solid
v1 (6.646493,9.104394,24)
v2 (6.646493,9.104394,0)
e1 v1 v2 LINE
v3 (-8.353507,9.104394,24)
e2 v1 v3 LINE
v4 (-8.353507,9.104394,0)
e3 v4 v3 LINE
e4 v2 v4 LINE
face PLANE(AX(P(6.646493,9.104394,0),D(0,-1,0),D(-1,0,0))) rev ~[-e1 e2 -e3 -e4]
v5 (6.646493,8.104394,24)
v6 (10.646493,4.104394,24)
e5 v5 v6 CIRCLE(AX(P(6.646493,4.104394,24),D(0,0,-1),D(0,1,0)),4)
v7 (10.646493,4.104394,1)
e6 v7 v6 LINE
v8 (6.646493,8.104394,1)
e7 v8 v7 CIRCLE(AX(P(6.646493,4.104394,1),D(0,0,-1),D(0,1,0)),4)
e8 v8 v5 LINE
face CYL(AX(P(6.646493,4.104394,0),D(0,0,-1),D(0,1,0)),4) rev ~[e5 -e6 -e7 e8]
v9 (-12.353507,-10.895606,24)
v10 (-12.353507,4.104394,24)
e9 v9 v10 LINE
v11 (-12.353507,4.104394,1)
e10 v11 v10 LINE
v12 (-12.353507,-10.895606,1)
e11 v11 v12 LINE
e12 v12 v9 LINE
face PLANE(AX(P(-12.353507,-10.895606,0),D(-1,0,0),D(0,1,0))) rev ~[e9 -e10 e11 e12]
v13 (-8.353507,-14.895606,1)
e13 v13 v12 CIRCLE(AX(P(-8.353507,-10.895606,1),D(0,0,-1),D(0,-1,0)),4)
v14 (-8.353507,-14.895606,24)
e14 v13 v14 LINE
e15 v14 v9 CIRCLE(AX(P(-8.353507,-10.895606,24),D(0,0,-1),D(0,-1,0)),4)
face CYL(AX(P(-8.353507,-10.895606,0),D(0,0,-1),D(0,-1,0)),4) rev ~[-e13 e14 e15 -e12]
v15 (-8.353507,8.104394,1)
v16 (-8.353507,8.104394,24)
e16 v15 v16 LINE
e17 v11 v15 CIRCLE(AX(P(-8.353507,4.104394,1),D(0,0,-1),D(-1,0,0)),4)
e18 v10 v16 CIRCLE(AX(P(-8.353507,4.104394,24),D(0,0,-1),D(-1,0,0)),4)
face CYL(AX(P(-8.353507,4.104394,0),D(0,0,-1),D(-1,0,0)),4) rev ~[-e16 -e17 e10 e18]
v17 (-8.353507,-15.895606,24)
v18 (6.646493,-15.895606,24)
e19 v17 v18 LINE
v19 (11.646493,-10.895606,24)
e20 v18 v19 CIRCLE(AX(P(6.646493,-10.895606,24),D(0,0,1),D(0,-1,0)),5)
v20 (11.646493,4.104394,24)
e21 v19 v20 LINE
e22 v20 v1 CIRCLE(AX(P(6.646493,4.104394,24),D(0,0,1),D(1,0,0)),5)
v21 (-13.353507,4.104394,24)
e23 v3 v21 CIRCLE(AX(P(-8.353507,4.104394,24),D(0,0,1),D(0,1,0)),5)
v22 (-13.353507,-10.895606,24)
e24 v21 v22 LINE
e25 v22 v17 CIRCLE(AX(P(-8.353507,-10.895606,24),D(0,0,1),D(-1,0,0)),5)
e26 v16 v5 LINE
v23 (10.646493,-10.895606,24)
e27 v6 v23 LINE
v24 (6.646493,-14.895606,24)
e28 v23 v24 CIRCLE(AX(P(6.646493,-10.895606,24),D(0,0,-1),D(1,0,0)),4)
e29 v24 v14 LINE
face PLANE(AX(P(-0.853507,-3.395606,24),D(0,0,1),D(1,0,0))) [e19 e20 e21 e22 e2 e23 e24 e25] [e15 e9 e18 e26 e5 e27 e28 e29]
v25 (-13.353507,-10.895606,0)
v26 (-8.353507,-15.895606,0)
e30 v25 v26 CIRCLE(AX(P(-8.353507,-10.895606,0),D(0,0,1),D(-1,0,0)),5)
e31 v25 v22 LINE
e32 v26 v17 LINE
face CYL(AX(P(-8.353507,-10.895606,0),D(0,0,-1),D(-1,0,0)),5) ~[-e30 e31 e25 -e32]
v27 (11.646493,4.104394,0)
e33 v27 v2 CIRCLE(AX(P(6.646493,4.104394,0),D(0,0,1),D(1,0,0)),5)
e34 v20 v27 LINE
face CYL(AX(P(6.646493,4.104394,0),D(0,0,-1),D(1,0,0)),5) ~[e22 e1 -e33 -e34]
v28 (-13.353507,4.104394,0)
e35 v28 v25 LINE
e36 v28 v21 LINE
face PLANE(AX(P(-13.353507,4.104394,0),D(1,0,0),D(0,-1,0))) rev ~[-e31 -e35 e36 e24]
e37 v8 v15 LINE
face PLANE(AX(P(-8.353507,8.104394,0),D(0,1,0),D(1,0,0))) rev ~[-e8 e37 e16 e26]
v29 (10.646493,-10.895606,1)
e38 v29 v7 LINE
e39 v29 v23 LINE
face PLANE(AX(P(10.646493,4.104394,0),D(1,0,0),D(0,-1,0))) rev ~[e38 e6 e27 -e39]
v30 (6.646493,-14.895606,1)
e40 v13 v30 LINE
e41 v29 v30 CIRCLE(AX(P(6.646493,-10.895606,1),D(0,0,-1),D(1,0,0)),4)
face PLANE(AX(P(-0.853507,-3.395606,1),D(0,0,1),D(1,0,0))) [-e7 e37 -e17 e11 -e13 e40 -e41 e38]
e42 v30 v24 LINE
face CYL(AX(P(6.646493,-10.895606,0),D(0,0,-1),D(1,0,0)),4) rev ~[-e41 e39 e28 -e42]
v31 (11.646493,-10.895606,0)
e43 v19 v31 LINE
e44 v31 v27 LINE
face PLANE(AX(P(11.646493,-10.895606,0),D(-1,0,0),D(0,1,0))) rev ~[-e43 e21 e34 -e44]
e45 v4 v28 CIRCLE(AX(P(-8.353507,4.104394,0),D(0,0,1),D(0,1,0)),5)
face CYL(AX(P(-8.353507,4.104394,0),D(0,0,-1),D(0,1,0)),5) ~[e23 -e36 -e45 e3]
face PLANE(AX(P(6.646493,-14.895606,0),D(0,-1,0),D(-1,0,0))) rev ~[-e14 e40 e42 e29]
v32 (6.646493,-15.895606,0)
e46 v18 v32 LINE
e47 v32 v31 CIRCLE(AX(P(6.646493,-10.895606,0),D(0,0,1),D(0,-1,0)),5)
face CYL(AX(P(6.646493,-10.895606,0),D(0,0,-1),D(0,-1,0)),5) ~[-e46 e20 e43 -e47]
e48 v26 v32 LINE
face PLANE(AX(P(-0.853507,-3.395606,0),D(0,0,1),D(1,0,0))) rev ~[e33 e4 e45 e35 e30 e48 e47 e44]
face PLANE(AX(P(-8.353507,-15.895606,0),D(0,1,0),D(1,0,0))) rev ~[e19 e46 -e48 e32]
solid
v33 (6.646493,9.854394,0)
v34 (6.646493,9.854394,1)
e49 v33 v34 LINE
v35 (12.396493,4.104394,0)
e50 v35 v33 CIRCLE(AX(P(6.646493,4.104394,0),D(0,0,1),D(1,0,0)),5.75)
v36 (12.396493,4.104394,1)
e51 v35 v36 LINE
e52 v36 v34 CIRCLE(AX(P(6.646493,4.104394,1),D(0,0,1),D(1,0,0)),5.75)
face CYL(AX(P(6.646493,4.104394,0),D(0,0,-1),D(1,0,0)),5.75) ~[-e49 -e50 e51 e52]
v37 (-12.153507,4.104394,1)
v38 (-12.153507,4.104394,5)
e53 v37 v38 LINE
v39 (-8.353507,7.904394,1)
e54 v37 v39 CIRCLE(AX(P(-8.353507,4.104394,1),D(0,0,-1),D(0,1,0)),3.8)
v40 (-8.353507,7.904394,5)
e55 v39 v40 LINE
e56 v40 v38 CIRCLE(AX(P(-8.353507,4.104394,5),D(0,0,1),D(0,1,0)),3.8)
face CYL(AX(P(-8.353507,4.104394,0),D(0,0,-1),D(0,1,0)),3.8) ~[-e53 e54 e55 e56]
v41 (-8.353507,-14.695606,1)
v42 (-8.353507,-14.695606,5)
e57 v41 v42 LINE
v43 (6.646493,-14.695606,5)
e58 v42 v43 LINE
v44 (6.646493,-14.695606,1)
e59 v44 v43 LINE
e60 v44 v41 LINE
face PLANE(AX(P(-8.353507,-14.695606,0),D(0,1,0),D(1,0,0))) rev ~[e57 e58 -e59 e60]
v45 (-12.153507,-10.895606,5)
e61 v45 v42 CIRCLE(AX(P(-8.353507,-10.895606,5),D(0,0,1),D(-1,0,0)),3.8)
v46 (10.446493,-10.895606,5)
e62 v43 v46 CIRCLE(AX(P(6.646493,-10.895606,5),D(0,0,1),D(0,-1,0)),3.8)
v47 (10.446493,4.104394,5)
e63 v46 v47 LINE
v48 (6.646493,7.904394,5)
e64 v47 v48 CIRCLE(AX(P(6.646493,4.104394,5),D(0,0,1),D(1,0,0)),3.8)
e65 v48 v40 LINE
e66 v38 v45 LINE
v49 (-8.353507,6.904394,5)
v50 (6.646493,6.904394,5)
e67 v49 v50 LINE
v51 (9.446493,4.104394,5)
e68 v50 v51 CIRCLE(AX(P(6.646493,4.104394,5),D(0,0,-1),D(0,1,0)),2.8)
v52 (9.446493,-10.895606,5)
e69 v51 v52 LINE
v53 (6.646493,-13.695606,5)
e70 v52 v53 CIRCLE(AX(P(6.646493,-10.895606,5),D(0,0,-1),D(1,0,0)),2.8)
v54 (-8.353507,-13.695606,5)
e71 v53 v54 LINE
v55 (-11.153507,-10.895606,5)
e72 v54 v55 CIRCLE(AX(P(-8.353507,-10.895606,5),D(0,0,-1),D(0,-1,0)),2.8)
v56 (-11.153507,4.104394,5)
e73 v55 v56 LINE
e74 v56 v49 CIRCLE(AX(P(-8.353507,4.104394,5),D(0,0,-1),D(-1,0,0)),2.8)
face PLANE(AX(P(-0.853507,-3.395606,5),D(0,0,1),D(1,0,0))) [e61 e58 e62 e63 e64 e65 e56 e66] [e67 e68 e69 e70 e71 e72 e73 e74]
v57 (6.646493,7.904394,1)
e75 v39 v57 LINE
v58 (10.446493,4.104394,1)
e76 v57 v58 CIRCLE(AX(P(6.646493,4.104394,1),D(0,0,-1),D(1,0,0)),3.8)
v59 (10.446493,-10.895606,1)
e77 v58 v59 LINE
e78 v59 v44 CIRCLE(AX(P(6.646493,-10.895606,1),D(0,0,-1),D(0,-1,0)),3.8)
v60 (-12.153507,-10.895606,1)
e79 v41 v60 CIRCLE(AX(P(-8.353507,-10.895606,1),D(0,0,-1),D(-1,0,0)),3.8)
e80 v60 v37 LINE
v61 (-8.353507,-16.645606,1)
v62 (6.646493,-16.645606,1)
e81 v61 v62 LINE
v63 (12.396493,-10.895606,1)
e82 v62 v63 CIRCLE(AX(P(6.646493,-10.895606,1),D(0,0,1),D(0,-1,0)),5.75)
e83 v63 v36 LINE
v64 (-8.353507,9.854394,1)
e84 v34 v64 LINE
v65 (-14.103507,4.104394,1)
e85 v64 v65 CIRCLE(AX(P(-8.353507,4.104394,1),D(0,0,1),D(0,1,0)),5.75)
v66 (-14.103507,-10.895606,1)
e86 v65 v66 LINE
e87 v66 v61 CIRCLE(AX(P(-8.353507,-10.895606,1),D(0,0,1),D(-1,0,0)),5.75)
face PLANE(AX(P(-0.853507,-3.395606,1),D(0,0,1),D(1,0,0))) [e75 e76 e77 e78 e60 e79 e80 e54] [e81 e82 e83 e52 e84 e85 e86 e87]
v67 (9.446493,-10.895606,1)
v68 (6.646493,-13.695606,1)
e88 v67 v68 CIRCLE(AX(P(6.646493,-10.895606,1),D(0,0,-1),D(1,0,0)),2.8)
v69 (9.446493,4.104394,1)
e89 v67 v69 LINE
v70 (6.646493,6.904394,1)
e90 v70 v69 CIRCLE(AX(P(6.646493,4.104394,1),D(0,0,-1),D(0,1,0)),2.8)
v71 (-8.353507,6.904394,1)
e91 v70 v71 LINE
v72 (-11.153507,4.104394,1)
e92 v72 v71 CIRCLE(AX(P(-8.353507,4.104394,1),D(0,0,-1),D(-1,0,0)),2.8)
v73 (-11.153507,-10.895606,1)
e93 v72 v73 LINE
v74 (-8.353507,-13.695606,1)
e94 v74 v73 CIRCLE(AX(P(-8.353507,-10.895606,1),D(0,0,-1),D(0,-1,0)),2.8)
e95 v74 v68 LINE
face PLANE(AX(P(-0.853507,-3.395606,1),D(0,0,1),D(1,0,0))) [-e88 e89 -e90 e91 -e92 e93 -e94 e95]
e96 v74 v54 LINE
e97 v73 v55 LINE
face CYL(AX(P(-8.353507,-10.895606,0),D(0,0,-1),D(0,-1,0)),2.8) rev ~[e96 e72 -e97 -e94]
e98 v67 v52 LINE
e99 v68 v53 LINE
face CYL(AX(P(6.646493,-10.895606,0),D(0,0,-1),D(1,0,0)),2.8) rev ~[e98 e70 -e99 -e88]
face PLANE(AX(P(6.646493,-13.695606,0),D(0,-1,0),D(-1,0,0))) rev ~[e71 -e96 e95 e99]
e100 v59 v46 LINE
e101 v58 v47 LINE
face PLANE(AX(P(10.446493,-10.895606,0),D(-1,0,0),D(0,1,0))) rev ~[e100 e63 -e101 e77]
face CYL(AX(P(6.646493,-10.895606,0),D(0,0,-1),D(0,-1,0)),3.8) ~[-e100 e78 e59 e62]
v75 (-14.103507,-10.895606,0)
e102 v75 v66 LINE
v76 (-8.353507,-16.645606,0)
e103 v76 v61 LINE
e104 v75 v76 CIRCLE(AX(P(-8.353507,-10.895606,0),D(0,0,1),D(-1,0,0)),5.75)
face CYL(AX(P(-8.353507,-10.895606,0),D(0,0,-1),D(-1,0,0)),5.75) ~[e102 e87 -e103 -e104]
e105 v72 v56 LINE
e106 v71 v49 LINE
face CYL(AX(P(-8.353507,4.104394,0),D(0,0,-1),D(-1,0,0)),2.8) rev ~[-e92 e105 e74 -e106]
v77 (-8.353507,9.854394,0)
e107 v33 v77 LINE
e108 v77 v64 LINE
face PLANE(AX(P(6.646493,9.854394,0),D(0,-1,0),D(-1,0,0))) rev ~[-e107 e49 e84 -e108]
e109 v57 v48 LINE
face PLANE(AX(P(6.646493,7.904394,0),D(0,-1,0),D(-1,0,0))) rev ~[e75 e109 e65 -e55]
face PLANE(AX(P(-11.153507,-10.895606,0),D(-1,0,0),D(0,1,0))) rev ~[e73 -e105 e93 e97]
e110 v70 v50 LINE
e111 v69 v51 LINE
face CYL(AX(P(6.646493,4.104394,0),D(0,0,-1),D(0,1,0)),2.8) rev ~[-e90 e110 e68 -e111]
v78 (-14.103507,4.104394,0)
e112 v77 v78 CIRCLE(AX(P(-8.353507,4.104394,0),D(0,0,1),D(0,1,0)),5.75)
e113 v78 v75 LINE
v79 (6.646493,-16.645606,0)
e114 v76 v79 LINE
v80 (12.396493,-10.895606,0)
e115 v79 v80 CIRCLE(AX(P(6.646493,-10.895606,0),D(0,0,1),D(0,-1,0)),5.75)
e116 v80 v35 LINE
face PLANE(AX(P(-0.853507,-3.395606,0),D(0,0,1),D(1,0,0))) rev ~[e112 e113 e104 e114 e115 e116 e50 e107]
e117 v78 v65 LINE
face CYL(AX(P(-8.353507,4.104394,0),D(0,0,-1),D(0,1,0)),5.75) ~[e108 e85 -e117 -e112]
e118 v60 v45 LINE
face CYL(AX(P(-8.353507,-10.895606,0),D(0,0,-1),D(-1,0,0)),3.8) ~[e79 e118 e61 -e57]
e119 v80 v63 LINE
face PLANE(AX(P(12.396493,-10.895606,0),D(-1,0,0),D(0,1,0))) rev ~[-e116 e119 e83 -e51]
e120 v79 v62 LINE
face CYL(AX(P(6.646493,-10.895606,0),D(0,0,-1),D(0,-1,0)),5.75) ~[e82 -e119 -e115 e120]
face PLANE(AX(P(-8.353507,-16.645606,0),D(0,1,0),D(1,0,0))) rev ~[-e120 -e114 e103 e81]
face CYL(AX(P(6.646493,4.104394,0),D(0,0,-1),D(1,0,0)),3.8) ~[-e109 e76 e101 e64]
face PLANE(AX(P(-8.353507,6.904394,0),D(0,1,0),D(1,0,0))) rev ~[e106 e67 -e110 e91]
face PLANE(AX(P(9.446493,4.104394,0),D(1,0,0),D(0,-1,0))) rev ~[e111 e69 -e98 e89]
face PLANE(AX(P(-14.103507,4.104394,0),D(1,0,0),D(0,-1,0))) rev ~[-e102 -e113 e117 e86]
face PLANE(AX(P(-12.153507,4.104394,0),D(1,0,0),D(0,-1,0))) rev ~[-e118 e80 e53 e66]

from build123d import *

# Parameters (mm, degrees)
F4_DEPTH = 1
F5_DEPTH = 24
F6_DEPTH = 1
F7_DEPTH = 5


with BuildPart() as f4:
    # F3 (on Top) → F4 (new body)
    with BuildSketch(Plane.XY):
        with BuildLine():
            Line((6.6464926861, 9.10439419), (-8.3535073139, 9.10439419))
            ThreePointArc((-8.3535073139, 9.10439419), (-11.8890412198, 7.6399280959), (-13.3535073139, 4.10439419))
            Line((-13.3535073139, 4.10439419), (-13.3535073139, -10.89560581))
            ThreePointArc((-13.3535073139, -10.89560581), (-11.8890412198, -14.4311397159), (-8.3535073139, -15.89560581))
            Line((-8.3535073139, -15.89560581), (6.6464926861, -15.89560581))
            ThreePointArc((6.6464926861, -15.89560581), (10.1820265921, -14.4311397159), (11.6464926861, -10.89560581))
            Line((11.6464926861, -10.89560581), (11.6464926861, 4.10439419))
            ThreePointArc((11.6464926861, 4.10439419), (10.1820265921, 7.6399280959), (6.6464926861, 9.10439419))
        make_face()
        with BuildLine():
            ThreePointArc((-12.3535073139, 4.10439419), (-11.1819344386, 6.9328213148), (-8.3535073139, 8.10439419))
            Line((-8.3535073139, 8.10439419), (6.6464926861, 8.10439419))
            ThreePointArc((6.6464926861, 8.10439419), (9.4749198109, 6.9328213148), (10.6464926861, 4.10439419))
            Line((10.6464926861, 4.10439419), (10.6464926861, -10.89560581))
            ThreePointArc((10.6464926861, -10.89560581), (9.4749198109, -13.7240329347), (6.6464926861, -14.89560581))
            Line((6.6464926861, -14.89560581), (-8.3535073139, -14.89560581))
            ThreePointArc((-8.3535073139, -14.89560581), (-11.1819344386, -13.7240329347), (-12.3535073139, -10.89560581))
            Line((-12.3535073139, -10.89560581), (-12.3535073139, 4.10439419))
        make_face(mode=Mode.SUBTRACT)
        with BuildLine():
            Line((6.6464926861, 8.10439419), (-8.3535073139, 8.10439419))
            ThreePointArc((-8.3535073139, 8.10439419), (-11.1819344386, 6.9328213148), (-12.3535073139, 4.10439419))
            Line((-12.3535073139, 4.10439419), (-12.3535073139, -10.89560581))
            ThreePointArc((-12.3535073139, -10.89560581), (-11.1819344386, -13.7240329347), (-8.3535073139, -14.89560581))
            Line((-8.3535073139, -14.89560581), (6.6464926861, -14.89560581))
            ThreePointArc((6.6464926861, -14.89560581), (9.4749198109, -13.7240329347), (10.6464926861, -10.89560581))
            Line((10.6464926861, -10.89560581), (10.6464926861, 4.10439419))
            ThreePointArc((10.6464926861, 4.10439419), (9.4749198109, 6.9328213148), (6.6464926861, 8.10439419))
        make_face()
        with BuildLine():
            ThreePointArc((-12.1535073139, 4.10439419), (-11.0405130824, 6.7913999585), (-8.3535073139, 7.90439419))
            Line((-8.3535073139, 7.90439419), (6.6464926861, 7.90439419))
            ThreePointArc((6.6464926861, 7.90439419), (9.3334984546, 6.7913999585), (10.4464926861, 4.10439419))
            Line((10.4464926861, 4.10439419), (10.4464926861, -10.89560581))
            ThreePointArc((10.4464926861, -10.89560581), (9.3334984546, -13.5826115785), (6.6464926861, -14.69560581))
            Line((6.6464926861, -14.69560581), (-8.3535073139, -14.69560581))
            ThreePointArc((-8.3535073139, -14.69560581), (-11.0405130824, -13.5826115785), (-12.1535073139, -10.89560581))
            Line((-12.1535073139, -10.89560581), (-12.1535073139, 4.10439419))
        make_face(mode=Mode.SUBTRACT)
        with BuildLine():
            Line((6.6464926861, 7.90439419), (-8.3535073139, 7.90439419))
            ThreePointArc((-8.3535073139, 7.90439419), (-11.0405130824, 6.7913999585), (-12.1535073139, 4.10439419))
            Line((-12.1535073139, 4.10439419), (-12.1535073139, -10.89560581))
            ThreePointArc((-12.1535073139, -10.89560581), (-11.0405130824, -13.5826115785), (-8.3535073139, -14.69560581))
            Line((-8.3535073139, -14.69560581), (6.6464926861, -14.69560581))
            ThreePointArc((6.6464926861, -14.69560581), (9.3334984546, -13.5826115785), (10.4464926861, -10.89560581))
            Line((10.4464926861, -10.89560581), (10.4464926861, 4.10439419))
            ThreePointArc((10.4464926861, 4.10439419), (9.3334984546, 6.7913999585), (6.6464926861, 7.90439419))
        make_face()
        with BuildLine():
            ThreePointArc((-11.1535073139, 4.10439419), (-10.3334063012, 6.0842931773), (-8.3535073139, 6.90439419))
            Line((-8.3535073139, 6.90439419), (6.6464926861, 6.90439419))
            ThreePointArc((6.6464926861, 6.90439419), (8.6263916734, 6.0842931773), (9.4464926861, 4.10439419))
            Line((9.4464926861, 4.10439419), (9.4464926861, -10.89560581))
            ThreePointArc((9.4464926861, -10.89560581), (8.6263916734, -12.8755047973), (6.6464926861, -13.69560581))
            Line((6.6464926861, -13.69560581), (-8.3535073139, -13.69560581))
            ThreePointArc((-8.3535073139, -13.69560581), (-10.3334063012, -12.8755047973), (-11.1535073139, -10.89560581))
            Line((-11.1535073139, -10.89560581), (-11.1535073139, 4.10439419))
        make_face(mode=Mode.SUBTRACT)
        with BuildLine():
            Line((6.6464926861, 6.90439419), (-8.3535073139, 6.90439419))
            ThreePointArc((-8.3535073139, 6.90439419), (-10.3334063012, 6.0842931773), (-11.1535073139, 4.10439419))
            Line((-11.1535073139, 4.10439419), (-11.1535073139, -10.89560581))
            ThreePointArc((-11.1535073139, -10.89560581), (-10.3334063012, -12.8755047973), (-8.3535073139, -13.69560581))
            Line((-8.3535073139, -13.69560581), (6.6464926861, -13.69560581))
            ThreePointArc((6.6464926861, -13.69560581), (8.6263916734, -12.8755047973), (9.4464926861, -10.89560581))
            Line((9.4464926861, -10.89560581), (9.4464926861, 4.10439419))
            ThreePointArc((9.4464926861, 4.10439419), (8.6263916734, 6.0842931773), (6.6464926861, 6.90439419))
        make_face()
    extrude(amount=F4_DEPTH)

    # F3 (on Top) → F5 (join)
    with BuildSketch(Plane.XY):
        with BuildLine():
            Line((6.6464926861, 9.10439419), (-8.3535073139, 9.10439419))
            ThreePointArc((-8.3535073139, 9.10439419), (-11.8890412198, 7.6399280959), (-13.3535073139, 4.10439419))
            Line((-13.3535073139, 4.10439419), (-13.3535073139, -10.89560581))
            ThreePointArc((-13.3535073139, -10.89560581), (-11.8890412198, -14.4311397159), (-8.3535073139, -15.89560581))
            Line((-8.3535073139, -15.89560581), (6.6464926861, -15.89560581))
            ThreePointArc((6.6464926861, -15.89560581), (10.1820265921, -14.4311397159), (11.6464926861, -10.89560581))
            Line((11.6464926861, -10.89560581), (11.6464926861, 4.10439419))
            ThreePointArc((11.6464926861, 4.10439419), (10.1820265921, 7.6399280959), (6.6464926861, 9.10439419))
        make_face()
        with BuildLine():
            ThreePointArc((-12.3535073139, 4.10439419), (-11.1819344386, 6.9328213148), (-8.3535073139, 8.10439419))
            Line((-8.3535073139, 8.10439419), (6.6464926861, 8.10439419))
            ThreePointArc((6.6464926861, 8.10439419), (9.4749198109, 6.9328213148), (10.6464926861, 4.10439419))
            Line((10.6464926861, 4.10439419), (10.6464926861, -10.89560581))
            ThreePointArc((10.6464926861, -10.89560581), (9.4749198109, -13.7240329347), (6.6464926861, -14.89560581))
            Line((6.6464926861, -14.89560581), (-8.3535073139, -14.89560581))
            ThreePointArc((-8.3535073139, -14.89560581), (-11.1819344386, -13.7240329347), (-12.3535073139, -10.89560581))
            Line((-12.3535073139, -10.89560581), (-12.3535073139, 4.10439419))
        make_face(mode=Mode.SUBTRACT)
    extrude(amount=F5_DEPTH)


with BuildPart() as f6:
    # F3 (on Top) → F6 (new body)
    with BuildSketch(Plane.XY):
        with BuildLine():
            Line((6.6464926861, 9.85439419), (-8.3535073139, 9.85439419))
            ThreePointArc((-8.3535073139, 9.85439419), (-12.4193713057, 8.1702581818), (-14.1035073139, 4.10439419))
            Line((-14.1035073139, 4.10439419), (-14.1035073139, -10.89560581))
            ThreePointArc((-14.1035073139, -10.89560581), (-12.4193713057, -14.9614698018), (-8.3535073139, -16.64560581))
            Line((-8.3535073139, -16.64560581), (6.6464926861, -16.64560581))
            ThreePointArc((6.6464926861, -16.64560581), (10.7123566779, -14.9614698018), (12.3964926861, -10.89560581))
            Line((12.3964926861, -10.89560581), (12.3964926861, 4.10439419))
            ThreePointArc((12.3964926861, 4.10439419), (10.7123566779, 8.1702581818), (6.6464926861, 9.85439419))
        make_face()
        with BuildLine():
            ThreePointArc((-13.3535073139, 4.10439419), (-11.8890412198, 7.6399280959), (-8.3535073139, 9.10439419))
            Line((-8.3535073139, 9.10439419), (6.6464926861, 9.10439419))
            ThreePointArc((6.6464926861, 9.10439419), (10.1820265921, 7.6399280959), (11.6464926861, 4.10439419))
            Line((11.6464926861, 4.10439419), (11.6464926861, -10.89560581))
            ThreePointArc((11.6464926861, -10.89560581), (10.1820265921, -14.4311397159), (6.6464926861, -15.89560581))
            Line((6.6464926861, -15.89560581), (-8.3535073139, -15.89560581))
            ThreePointArc((-8.3535073139, -15.89560581), (-11.8890412198, -14.4311397159), (-13.3535073139, -10.89560581))
            Line((-13.3535073139, -10.89560581), (-13.3535073139, 4.10439419))
        make_face(mode=Mode.SUBTRACT)
        with BuildLine():
            Line((6.6464926861, 9.10439419), (-8.3535073139, 9.10439419))
            ThreePointArc((-8.3535073139, 9.10439419), (-11.8890412198, 7.6399280959), (-13.3535073139, 4.10439419))
            Line((-13.3535073139, 4.10439419), (-13.3535073139, -10.89560581))
            ThreePointArc((-13.3535073139, -10.89560581), (-11.8890412198, -14.4311397159), (-8.3535073139, -15.89560581))
            Line((-8.3535073139, -15.89560581), (6.6464926861, -15.89560581))
            ThreePointArc((6.6464926861, -15.89560581), (10.1820265921, -14.4311397159), (11.6464926861, -10.89560581))
            Line((11.6464926861, -10.89560581), (11.6464926861, 4.10439419))
            ThreePointArc((11.6464926861, 4.10439419), (10.1820265921, 7.6399280959), (6.6464926861, 9.10439419))
        make_face()
        with BuildLine():
            ThreePointArc((-12.3535073139, 4.10439419), (-11.1819344386, 6.9328213148), (-8.3535073139, 8.10439419))
            Line((-8.3535073139, 8.10439419), (6.6464926861, 8.10439419))
            ThreePointArc((6.6464926861, 8.10439419), (9.4749198109, 6.9328213148), (10.6464926861, 4.10439419))
            Line((10.6464926861, 4.10439419), (10.6464926861, -10.89560581))
            ThreePointArc((10.6464926861, -10.89560581), (9.4749198109, -13.7240329347), (6.6464926861, -14.89560581))
            Line((6.6464926861, -14.89560581), (-8.3535073139, -14.89560581))
            ThreePointArc((-8.3535073139, -14.89560581), (-11.1819344386, -13.7240329347), (-12.3535073139, -10.89560581))
            Line((-12.3535073139, -10.89560581), (-12.3535073139, 4.10439419))
        make_face(mode=Mode.SUBTRACT)
        with BuildLine():
            Line((6.6464926861, 8.10439419), (-8.3535073139, 8.10439419))
            ThreePointArc((-8.3535073139, 8.10439419), (-11.1819344386, 6.9328213148), (-12.3535073139, 4.10439419))
            Line((-12.3535073139, 4.10439419), (-12.3535073139, -10.89560581))
            ThreePointArc((-12.3535073139, -10.89560581), (-11.1819344386, -13.7240329347), (-8.3535073139, -14.89560581))
            Line((-8.3535073139, -14.89560581), (6.6464926861, -14.89560581))
            ThreePointArc((6.6464926861, -14.89560581), (9.4749198109, -13.7240329347), (10.6464926861, -10.89560581))
            Line((10.6464926861, -10.89560581), (10.6464926861, 4.10439419))
            ThreePointArc((10.6464926861, 4.10439419), (9.4749198109, 6.9328213148), (6.6464926861, 8.10439419))
        make_face()
        with BuildLine():
            ThreePointArc((-12.1535073139, 4.10439419), (-11.0405130824, 6.7913999585), (-8.3535073139, 7.90439419))
            Line((-8.3535073139, 7.90439419), (6.6464926861, 7.90439419))
            ThreePointArc((6.6464926861, 7.90439419), (9.3334984546, 6.7913999585), (10.4464926861, 4.10439419))
            Line((10.4464926861, 4.10439419), (10.4464926861, -10.89560581))
            ThreePointArc((10.4464926861, -10.89560581), (9.3334984546, -13.5826115785), (6.6464926861, -14.69560581))
            Line((6.6464926861, -14.69560581), (-8.3535073139, -14.69560581))
            ThreePointArc((-8.3535073139, -14.69560581), (-11.0405130824, -13.5826115785), (-12.1535073139, -10.89560581))
            Line((-12.1535073139, -10.89560581), (-12.1535073139, 4.10439419))
        make_face(mode=Mode.SUBTRACT)
        with BuildLine():
            Line((6.6464926861, 7.90439419), (-8.3535073139, 7.90439419))
            ThreePointArc((-8.3535073139, 7.90439419), (-11.0405130824, 6.7913999585), (-12.1535073139, 4.10439419))
            Line((-12.1535073139, 4.10439419), (-12.1535073139, -10.89560581))
            ThreePointArc((-12.1535073139, -10.89560581), (-11.0405130824, -13.5826115785), (-8.3535073139, -14.69560581))
            Line((-8.3535073139, -14.69560581), (6.6464926861, -14.69560581))
            ThreePointArc((6.6464926861, -14.69560581), (9.3334984546, -13.5826115785), (10.4464926861, -10.89560581))
            Line((10.4464926861, -10.89560581), (10.4464926861, 4.10439419))
            ThreePointArc((10.4464926861, 4.10439419), (9.3334984546, 6.7913999585), (6.6464926861, 7.90439419))
        make_face()
        with BuildLine():
            ThreePointArc((-11.1535073139, 4.10439419), (-10.3334063012, 6.0842931773), (-8.3535073139, 6.90439419))
            Line((-8.3535073139, 6.90439419), (6.6464926861, 6.90439419))
            ThreePointArc((6.6464926861, 6.90439419), (8.6263916734, 6.0842931773), (9.4464926861, 4.10439419))
            Line((9.4464926861, 4.10439419), (9.4464926861, -10.89560581))
            ThreePointArc((9.4464926861, -10.89560581), (8.6263916734, -12.8755047973), (6.6464926861, -13.69560581))
            Line((6.6464926861, -13.69560581), (-8.3535073139, -13.69560581))
            ThreePointArc((-8.3535073139, -13.69560581), (-10.3334063012, -12.8755047973), (-11.1535073139, -10.89560581))
            Line((-11.1535073139, -10.89560581), (-11.1535073139, 4.10439419))
        make_face(mode=Mode.SUBTRACT)
        with BuildLine():
            Line((6.6464926861, 6.90439419), (-8.3535073139, 6.90439419))
            ThreePointArc((-8.3535073139, 6.90439419), (-10.3334063012, 6.0842931773), (-11.1535073139, 4.10439419))
            Line((-11.1535073139, 4.10439419), (-11.1535073139, -10.89560581))
            ThreePointArc((-11.1535073139, -10.89560581), (-10.3334063012, -12.8755047973), (-8.3535073139, -13.69560581))
            Line((-8.3535073139, -13.69560581), (6.6464926861, -13.69560581))
            ThreePointArc((6.6464926861, -13.69560581), (8.6263916734, -12.8755047973), (9.4464926861, -10.89560581))
            Line((9.4464926861, -10.89560581), (9.4464926861, 4.10439419))
            ThreePointArc((9.4464926861, 4.10439419), (8.6263916734, 6.0842931773), (6.6464926861, 6.90439419))
        make_face()
    extrude(amount=F6_DEPTH)

    # F3 (on Top) → F7 (join)
    with BuildSketch(Plane.XY):
        with BuildLine():
            Line((6.6464926861, 7.90439419), (-8.3535073139, 7.90439419))
            ThreePointArc((-8.3535073139, 7.90439419), (-11.0405130824, 6.7913999585), (-12.1535073139, 4.10439419))
            Line((-12.1535073139, 4.10439419), (-12.1535073139, -10.89560581))
            ThreePointArc((-12.1535073139, -10.89560581), (-11.0405130824, -13.5826115785), (-8.3535073139, -14.69560581))
            Line((-8.3535073139, -14.69560581), (6.6464926861, -14.69560581))
            ThreePointArc((6.6464926861, -14.69560581), (9.3334984546, -13.5826115785), (10.4464926861, -10.89560581))
            Line((10.4464926861, -10.89560581), (10.4464926861, 4.10439419))
            ThreePointArc((10.4464926861, 4.10439419), (9.3334984546, 6.7913999585), (6.6464926861, 7.90439419))
        make_face()
        with BuildLine():
            ThreePointArc((-11.1535073139, 4.10439419), (-10.3334063012, 6.0842931773), (-8.3535073139, 6.90439419))
            Line((-8.3535073139, 6.90439419), (6.6464926861, 6.90439419))
            ThreePointArc((6.6464926861, 6.90439419), (8.6263916734, 6.0842931773), (9.4464926861, 4.10439419))
            Line((9.4464926861, 4.10439419), (9.4464926861, -10.89560581))
            ThreePointArc((9.4464926861, -10.89560581), (8.6263916734, -12.8755047973), (6.6464926861, -13.69560581))
            Line((6.6464926861, -13.69560581), (-8.3535073139, -13.69560581))
            ThreePointArc((-8.3535073139, -13.69560581), (-10.3334063012, -12.8755047973), (-11.1535073139, -10.89560581))
            Line((-11.1535073139, -10.89560581), (-11.1535073139, 4.10439419))
        make_face(mode=Mode.SUBTRACT)
    extrude(amount=F7_DEPTH)


solid = Compound([f4.part, f6.part])
